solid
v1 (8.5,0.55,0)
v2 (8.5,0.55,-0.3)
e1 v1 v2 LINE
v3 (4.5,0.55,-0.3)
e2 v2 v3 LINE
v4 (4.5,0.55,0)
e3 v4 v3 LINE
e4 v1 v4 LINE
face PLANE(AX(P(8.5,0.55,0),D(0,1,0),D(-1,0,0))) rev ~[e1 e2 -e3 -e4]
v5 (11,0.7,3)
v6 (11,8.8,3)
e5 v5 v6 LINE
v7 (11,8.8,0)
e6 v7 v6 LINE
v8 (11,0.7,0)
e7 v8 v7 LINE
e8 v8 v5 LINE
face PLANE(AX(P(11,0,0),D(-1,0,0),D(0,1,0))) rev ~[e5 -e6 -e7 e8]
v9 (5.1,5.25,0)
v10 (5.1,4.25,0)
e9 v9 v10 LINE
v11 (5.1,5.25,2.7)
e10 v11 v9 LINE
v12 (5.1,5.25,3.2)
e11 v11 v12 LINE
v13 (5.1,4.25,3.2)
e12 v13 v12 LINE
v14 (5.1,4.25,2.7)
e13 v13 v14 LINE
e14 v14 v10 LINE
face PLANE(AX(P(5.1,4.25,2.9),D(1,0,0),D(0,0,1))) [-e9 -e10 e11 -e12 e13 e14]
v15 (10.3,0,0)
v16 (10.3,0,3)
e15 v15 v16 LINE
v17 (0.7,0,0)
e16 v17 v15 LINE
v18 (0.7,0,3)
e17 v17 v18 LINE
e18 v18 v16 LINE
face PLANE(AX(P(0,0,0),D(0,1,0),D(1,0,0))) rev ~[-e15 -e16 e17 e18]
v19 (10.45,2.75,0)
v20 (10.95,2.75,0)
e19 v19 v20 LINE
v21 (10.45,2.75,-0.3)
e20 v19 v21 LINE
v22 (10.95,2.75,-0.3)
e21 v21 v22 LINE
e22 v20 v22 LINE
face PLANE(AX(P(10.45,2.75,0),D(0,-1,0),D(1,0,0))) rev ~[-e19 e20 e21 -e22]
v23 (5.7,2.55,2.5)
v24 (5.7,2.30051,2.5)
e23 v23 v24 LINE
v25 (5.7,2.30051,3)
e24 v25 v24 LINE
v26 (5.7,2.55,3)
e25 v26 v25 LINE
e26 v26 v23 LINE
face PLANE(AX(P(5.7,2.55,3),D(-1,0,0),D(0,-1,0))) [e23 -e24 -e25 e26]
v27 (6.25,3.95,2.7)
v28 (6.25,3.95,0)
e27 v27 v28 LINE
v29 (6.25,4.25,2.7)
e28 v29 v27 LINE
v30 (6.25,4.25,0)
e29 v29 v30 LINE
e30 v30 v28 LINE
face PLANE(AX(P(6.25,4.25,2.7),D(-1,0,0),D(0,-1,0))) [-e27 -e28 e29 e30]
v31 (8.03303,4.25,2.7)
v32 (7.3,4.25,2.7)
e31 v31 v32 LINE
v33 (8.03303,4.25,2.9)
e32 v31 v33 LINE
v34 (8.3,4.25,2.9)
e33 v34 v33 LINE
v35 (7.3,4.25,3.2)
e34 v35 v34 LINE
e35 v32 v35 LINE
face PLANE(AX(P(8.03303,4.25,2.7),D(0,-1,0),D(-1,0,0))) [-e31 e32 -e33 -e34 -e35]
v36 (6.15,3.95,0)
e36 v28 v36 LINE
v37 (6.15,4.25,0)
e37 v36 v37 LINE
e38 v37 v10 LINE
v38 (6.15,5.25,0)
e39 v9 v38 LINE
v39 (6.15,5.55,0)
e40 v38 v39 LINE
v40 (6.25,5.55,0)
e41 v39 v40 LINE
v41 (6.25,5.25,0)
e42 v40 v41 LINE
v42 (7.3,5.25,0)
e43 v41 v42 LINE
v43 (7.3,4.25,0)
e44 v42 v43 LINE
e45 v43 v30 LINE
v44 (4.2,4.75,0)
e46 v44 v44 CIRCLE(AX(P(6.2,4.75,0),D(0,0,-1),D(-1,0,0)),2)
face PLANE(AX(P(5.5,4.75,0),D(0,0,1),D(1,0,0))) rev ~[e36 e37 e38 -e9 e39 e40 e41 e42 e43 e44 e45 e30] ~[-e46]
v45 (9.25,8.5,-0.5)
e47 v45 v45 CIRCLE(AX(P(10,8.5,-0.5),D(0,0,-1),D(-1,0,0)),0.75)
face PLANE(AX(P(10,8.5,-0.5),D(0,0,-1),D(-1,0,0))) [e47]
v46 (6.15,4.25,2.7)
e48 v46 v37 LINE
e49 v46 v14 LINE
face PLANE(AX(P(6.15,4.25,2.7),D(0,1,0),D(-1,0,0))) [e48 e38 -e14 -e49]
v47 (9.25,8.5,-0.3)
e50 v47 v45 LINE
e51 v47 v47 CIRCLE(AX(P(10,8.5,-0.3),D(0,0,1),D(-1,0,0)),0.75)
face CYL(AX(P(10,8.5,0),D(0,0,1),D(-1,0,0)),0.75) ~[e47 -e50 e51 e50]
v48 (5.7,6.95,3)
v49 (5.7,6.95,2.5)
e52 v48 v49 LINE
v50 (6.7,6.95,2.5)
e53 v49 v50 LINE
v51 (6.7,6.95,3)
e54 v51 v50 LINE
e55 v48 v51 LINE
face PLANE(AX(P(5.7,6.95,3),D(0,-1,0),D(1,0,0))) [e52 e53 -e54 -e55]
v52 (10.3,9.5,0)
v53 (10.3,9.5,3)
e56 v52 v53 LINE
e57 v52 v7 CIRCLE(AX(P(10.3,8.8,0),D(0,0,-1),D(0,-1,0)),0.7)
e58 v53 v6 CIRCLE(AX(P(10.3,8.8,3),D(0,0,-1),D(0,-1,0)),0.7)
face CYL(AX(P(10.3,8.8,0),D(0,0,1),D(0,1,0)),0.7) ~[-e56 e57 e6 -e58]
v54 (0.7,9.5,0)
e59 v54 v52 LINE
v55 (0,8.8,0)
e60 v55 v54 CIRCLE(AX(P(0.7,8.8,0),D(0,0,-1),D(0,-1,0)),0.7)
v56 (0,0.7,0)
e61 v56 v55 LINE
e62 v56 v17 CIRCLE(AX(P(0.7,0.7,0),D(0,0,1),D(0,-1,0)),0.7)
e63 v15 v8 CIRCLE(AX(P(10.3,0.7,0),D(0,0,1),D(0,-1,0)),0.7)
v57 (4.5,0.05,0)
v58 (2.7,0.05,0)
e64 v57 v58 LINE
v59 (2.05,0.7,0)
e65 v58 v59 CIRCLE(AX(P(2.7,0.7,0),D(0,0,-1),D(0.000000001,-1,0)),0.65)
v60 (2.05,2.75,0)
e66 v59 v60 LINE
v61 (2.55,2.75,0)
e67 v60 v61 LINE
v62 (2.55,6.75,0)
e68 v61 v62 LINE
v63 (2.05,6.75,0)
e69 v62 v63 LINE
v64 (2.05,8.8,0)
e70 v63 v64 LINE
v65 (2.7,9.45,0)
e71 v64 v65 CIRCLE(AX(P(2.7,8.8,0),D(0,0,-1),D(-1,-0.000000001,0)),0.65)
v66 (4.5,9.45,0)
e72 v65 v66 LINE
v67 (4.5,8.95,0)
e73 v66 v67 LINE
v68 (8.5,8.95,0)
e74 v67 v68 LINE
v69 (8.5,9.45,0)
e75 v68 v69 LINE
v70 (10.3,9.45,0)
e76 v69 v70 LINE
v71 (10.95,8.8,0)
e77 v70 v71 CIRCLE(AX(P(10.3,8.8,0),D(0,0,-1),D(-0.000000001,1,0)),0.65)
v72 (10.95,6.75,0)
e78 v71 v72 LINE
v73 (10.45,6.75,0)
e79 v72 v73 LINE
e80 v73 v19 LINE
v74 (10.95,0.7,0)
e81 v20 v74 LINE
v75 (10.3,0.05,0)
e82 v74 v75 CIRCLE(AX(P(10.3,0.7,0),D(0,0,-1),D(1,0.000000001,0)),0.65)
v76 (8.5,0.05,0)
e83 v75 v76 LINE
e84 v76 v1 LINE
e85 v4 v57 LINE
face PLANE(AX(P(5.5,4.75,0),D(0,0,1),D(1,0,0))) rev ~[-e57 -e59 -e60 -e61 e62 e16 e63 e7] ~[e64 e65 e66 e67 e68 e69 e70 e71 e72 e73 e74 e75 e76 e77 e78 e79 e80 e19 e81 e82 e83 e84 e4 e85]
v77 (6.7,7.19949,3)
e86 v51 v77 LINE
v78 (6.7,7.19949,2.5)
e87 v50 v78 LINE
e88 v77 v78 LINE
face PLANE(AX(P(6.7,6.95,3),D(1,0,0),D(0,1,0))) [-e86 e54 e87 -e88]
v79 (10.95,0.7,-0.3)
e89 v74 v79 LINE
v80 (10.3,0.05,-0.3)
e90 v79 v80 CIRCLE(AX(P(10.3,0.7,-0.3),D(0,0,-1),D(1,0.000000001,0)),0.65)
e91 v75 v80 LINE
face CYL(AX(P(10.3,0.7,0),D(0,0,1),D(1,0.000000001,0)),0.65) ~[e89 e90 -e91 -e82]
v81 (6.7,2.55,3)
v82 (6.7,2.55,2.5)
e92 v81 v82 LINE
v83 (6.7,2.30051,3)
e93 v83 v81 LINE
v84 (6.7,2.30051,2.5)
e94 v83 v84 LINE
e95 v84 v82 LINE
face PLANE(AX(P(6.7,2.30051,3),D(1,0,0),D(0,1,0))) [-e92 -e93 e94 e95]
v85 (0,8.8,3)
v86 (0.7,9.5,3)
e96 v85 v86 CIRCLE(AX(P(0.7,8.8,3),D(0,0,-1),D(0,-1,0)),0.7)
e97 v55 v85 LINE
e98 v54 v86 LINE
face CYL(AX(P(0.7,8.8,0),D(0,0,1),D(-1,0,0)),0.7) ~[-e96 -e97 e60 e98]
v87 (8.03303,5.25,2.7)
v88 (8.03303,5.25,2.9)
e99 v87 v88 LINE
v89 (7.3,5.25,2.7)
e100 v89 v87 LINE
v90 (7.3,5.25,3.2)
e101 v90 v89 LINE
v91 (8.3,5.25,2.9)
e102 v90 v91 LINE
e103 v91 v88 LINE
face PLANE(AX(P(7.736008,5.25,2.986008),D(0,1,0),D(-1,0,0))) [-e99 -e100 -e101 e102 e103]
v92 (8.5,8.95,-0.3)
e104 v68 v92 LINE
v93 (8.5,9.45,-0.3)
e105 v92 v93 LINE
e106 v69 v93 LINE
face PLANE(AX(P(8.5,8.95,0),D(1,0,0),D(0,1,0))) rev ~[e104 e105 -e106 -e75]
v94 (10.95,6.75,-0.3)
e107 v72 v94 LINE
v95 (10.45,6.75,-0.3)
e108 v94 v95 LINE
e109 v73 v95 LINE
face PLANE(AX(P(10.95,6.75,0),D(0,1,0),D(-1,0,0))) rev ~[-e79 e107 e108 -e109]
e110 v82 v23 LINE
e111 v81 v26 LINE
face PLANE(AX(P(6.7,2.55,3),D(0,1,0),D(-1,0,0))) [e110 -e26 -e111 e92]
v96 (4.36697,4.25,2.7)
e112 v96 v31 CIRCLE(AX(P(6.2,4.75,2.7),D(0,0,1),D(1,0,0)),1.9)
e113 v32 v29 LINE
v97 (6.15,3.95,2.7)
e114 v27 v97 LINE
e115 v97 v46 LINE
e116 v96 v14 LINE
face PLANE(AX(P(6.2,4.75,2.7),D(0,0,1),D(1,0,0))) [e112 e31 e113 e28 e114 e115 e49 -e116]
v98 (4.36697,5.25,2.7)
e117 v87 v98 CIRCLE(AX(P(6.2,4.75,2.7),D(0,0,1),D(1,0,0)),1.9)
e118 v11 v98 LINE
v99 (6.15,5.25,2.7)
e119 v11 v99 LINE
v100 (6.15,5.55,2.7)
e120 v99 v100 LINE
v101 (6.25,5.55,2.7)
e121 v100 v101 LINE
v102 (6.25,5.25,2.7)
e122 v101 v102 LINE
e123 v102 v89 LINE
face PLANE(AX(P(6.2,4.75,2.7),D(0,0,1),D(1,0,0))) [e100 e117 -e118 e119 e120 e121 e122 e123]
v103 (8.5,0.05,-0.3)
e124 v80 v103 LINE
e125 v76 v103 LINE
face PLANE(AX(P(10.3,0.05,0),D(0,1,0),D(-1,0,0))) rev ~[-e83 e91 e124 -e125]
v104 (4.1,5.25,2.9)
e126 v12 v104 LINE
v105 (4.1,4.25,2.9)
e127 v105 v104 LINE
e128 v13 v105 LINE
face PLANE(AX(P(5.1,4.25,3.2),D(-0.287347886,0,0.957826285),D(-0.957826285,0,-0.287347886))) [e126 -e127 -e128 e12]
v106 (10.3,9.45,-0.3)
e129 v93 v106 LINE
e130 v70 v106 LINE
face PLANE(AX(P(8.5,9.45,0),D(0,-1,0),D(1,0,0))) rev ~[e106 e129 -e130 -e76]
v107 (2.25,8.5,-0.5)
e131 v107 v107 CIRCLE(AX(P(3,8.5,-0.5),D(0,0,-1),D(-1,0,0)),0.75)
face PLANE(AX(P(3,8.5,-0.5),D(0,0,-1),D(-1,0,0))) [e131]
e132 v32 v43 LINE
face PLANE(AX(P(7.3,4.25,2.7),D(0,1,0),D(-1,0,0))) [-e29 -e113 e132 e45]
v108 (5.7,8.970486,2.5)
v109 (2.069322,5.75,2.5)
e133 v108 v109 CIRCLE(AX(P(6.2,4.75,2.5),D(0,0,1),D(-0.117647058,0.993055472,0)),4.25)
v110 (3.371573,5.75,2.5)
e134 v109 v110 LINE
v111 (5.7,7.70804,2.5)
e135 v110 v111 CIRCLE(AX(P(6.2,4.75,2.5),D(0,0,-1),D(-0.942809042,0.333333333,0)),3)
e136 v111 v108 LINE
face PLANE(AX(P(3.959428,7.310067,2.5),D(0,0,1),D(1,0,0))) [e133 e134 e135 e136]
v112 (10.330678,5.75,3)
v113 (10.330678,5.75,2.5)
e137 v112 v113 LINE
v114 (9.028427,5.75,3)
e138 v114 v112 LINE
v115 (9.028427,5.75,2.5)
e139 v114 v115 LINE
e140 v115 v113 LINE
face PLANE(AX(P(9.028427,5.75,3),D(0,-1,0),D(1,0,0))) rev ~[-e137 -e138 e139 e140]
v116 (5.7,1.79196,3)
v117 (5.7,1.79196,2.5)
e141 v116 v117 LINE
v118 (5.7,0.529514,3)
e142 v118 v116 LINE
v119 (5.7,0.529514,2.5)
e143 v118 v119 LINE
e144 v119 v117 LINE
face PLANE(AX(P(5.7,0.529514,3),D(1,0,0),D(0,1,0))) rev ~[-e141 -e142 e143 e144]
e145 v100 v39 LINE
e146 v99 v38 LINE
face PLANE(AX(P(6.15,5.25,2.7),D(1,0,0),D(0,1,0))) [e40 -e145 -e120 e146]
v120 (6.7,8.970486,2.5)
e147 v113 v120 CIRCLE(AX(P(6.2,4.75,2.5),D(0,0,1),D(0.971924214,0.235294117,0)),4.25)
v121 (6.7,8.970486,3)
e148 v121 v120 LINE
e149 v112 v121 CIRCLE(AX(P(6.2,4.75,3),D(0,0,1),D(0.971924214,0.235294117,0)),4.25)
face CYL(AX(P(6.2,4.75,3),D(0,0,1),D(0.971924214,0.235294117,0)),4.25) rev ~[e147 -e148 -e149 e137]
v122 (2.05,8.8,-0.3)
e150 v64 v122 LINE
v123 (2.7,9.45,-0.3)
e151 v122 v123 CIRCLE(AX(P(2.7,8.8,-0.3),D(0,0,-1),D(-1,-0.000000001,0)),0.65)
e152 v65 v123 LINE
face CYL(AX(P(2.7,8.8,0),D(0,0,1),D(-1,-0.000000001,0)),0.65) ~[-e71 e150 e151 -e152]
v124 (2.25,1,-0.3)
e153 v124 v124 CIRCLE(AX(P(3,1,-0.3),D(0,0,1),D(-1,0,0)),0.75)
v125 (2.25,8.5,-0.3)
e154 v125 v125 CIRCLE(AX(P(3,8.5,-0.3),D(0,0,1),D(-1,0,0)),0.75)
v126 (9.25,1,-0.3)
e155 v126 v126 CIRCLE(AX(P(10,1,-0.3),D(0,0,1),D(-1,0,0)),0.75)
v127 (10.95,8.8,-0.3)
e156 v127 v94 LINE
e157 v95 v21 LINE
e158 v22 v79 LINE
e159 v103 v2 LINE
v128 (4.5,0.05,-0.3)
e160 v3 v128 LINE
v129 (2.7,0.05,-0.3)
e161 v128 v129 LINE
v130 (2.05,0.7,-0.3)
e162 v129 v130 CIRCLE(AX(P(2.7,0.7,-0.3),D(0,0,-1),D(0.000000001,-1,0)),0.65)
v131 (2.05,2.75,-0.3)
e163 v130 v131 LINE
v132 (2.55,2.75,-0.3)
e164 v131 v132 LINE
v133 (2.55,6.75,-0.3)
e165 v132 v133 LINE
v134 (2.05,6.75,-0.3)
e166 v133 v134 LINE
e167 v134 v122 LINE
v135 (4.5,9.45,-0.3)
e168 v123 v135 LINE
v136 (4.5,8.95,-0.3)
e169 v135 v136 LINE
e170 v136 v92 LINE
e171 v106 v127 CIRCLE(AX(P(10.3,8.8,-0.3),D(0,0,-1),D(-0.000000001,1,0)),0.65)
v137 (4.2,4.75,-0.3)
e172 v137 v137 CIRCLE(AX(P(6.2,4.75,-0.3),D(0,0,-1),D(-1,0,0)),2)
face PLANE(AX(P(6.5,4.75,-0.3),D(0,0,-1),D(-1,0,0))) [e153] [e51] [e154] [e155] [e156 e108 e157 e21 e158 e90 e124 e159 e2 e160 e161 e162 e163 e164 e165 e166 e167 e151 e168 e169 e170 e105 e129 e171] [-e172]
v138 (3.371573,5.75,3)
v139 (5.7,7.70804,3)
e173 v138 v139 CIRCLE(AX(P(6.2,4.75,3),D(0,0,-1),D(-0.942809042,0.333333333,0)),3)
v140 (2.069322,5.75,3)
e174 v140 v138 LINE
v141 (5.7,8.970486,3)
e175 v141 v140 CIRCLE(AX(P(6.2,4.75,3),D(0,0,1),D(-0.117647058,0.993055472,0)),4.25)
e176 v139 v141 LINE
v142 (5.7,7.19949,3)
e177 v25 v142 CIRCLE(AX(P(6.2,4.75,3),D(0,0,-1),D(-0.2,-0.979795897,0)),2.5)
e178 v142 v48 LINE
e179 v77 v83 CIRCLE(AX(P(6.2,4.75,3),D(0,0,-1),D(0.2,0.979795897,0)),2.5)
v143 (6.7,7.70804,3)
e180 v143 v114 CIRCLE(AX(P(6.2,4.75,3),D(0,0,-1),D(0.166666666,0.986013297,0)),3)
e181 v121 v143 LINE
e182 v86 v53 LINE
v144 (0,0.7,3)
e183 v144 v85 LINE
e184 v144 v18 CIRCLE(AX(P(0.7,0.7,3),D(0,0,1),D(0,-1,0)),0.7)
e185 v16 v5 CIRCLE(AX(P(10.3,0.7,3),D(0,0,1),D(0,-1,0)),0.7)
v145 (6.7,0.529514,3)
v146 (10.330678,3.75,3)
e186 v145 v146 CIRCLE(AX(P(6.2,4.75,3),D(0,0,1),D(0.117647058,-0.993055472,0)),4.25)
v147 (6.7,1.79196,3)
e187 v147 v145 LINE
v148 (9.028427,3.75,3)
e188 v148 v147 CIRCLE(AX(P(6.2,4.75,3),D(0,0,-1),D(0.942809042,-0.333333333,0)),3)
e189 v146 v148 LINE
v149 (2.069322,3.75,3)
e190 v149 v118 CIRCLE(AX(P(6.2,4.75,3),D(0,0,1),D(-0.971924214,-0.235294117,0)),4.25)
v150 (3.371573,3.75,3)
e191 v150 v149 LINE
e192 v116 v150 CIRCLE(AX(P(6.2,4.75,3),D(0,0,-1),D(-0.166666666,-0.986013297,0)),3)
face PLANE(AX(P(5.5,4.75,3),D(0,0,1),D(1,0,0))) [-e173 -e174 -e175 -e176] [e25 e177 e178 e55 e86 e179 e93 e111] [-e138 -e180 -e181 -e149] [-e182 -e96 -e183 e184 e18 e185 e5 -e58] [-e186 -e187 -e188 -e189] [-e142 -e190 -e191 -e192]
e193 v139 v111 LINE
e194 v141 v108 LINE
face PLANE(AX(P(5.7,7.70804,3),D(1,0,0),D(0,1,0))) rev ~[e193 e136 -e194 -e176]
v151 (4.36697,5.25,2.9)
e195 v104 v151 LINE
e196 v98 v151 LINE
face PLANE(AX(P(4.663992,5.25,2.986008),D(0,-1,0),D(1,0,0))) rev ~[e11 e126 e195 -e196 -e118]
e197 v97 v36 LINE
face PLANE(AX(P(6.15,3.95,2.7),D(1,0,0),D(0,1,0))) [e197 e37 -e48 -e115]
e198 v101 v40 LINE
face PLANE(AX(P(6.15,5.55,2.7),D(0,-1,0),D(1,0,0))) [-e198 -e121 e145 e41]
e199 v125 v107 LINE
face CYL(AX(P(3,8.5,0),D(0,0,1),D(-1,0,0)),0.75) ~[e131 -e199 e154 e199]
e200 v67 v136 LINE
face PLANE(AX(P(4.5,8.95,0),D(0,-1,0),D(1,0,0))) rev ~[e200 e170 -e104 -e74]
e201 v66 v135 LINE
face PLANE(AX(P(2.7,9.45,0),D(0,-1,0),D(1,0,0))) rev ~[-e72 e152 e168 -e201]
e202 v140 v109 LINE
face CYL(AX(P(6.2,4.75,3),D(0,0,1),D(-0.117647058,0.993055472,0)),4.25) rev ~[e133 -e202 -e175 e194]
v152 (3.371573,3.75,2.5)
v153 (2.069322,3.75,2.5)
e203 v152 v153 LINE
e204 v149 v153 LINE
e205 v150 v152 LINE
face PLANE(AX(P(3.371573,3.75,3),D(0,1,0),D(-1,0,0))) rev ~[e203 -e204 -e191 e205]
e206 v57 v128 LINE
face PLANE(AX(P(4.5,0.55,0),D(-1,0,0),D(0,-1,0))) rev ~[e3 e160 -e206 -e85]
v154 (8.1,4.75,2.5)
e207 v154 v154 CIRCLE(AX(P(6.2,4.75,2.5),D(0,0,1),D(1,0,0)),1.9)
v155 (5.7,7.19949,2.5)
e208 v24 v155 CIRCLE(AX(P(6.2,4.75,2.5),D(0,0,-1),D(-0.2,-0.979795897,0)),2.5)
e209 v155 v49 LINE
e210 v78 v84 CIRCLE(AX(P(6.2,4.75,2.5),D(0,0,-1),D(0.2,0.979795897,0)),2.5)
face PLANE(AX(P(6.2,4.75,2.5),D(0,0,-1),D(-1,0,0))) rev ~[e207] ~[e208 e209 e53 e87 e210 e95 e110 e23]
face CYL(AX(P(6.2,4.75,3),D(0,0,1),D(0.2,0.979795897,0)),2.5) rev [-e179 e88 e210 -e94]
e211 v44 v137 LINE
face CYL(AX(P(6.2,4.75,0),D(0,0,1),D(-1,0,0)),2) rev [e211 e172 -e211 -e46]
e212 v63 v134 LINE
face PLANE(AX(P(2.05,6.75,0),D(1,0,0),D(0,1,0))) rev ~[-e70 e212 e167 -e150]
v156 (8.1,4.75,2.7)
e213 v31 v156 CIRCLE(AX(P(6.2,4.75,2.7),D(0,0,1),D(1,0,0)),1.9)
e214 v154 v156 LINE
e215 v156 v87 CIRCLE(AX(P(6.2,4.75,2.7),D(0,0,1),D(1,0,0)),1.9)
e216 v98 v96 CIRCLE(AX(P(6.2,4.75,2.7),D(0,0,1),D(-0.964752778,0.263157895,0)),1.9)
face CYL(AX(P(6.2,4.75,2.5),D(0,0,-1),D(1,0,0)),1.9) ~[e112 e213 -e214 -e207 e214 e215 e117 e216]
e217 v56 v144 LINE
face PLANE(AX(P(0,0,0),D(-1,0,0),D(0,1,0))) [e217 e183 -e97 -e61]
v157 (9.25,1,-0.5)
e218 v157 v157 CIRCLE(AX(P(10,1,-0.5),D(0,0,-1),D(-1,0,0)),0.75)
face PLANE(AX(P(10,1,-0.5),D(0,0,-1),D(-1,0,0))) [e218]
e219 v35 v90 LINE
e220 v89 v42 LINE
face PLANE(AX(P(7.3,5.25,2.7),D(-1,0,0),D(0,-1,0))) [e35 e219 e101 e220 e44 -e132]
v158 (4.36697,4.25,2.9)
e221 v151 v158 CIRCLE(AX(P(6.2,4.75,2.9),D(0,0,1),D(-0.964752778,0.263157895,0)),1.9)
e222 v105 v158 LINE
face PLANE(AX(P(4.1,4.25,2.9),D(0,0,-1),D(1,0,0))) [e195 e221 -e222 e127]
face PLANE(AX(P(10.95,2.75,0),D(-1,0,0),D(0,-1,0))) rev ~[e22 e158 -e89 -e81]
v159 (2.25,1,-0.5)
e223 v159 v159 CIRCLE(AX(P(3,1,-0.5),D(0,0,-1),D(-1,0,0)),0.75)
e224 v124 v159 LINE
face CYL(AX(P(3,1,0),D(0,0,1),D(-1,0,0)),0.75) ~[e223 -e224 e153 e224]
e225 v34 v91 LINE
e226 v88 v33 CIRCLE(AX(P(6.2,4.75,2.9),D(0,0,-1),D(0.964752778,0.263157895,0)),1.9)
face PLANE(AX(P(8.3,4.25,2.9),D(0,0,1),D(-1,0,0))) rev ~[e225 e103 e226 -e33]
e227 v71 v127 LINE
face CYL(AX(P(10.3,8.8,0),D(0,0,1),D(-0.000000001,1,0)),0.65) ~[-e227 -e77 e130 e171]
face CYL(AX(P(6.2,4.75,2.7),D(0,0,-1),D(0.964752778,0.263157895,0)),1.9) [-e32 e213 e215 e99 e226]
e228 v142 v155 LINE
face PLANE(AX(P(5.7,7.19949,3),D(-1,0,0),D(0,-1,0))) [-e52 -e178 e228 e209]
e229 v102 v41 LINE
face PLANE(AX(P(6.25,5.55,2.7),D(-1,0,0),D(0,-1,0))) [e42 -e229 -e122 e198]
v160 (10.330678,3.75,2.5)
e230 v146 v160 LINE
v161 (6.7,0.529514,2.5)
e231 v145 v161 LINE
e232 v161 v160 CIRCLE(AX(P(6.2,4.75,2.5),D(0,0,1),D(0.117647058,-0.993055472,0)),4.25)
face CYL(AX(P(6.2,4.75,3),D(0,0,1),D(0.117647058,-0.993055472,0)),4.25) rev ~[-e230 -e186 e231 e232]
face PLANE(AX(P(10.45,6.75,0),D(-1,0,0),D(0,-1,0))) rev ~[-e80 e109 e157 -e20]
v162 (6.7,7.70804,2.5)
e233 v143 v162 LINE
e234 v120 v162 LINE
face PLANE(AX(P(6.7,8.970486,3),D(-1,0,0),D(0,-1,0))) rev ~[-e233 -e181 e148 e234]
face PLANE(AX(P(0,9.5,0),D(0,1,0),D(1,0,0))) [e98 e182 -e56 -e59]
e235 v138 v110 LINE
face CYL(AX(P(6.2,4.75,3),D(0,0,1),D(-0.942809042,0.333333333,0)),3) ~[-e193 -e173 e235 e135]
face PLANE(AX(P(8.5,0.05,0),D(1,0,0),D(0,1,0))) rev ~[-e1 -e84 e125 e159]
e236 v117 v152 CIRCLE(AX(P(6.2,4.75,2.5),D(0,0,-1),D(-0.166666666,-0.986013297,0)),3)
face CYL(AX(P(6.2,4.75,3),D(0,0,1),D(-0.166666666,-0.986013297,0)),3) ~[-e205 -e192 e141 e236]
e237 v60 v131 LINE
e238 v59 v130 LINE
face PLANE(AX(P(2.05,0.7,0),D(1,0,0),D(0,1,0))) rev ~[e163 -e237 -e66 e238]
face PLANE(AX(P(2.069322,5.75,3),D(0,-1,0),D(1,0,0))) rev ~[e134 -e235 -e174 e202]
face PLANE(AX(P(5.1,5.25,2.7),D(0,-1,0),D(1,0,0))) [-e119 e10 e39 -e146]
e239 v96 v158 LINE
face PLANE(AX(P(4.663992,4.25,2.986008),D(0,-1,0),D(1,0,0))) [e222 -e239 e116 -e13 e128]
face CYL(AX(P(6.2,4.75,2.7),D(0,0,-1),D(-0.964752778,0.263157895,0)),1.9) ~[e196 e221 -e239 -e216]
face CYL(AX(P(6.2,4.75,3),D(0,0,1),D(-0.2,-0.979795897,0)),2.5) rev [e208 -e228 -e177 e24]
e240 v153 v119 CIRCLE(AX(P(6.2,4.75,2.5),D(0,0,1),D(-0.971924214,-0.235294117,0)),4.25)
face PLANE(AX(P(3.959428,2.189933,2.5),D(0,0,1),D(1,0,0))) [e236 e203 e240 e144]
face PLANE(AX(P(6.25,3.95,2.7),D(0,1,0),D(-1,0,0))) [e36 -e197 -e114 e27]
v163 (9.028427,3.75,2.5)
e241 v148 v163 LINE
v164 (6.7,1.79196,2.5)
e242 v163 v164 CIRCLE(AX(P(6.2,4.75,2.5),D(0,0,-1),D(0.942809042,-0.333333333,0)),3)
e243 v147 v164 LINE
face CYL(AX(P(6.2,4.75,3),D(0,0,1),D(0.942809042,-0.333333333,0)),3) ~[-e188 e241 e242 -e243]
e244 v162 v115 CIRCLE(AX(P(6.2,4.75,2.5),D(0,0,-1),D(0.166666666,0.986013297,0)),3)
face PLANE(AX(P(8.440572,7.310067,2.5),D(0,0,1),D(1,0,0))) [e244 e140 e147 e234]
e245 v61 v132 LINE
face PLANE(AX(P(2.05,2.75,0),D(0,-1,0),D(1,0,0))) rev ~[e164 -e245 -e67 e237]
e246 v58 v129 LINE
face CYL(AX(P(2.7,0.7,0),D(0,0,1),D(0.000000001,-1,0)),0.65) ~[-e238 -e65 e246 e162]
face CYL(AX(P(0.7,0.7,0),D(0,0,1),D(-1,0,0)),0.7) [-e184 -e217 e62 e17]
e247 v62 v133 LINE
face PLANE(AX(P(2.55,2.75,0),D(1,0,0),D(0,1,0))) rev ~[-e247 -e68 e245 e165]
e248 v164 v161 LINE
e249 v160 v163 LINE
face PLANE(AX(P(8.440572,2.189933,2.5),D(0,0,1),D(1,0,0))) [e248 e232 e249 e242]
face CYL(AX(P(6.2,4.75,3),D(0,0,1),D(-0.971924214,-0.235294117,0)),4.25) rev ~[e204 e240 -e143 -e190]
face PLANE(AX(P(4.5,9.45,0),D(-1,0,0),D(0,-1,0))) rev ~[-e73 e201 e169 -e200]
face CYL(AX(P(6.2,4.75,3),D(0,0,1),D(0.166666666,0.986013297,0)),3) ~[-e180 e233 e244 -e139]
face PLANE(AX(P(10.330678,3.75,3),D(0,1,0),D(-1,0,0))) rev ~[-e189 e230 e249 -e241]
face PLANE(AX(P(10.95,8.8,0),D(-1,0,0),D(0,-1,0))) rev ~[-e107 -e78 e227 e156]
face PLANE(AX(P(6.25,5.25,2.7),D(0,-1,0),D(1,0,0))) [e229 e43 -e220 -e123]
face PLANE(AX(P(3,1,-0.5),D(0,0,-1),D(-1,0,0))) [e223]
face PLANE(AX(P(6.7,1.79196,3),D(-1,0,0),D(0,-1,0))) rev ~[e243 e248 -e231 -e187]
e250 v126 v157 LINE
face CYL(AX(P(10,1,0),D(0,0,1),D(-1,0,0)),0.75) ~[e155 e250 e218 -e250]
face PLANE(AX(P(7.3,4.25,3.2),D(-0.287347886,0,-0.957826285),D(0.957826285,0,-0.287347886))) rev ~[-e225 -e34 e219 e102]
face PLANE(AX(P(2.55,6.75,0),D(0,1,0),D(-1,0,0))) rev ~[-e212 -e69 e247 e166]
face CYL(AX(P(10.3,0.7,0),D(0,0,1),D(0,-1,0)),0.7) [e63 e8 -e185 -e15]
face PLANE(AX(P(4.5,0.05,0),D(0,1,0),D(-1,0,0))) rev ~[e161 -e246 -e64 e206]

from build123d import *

# Parameters (mm, degrees)
SKETCH_1_W          = 11
SKETCH_1_H          = 9.5
EXTRUDE_1_DEPTH     = 3
CUT_EXTRUDE_1_DEPTH = 0.5
FILLET_1_R          = 0.7
SKETCH_3_R          = 1.9
EXTRUDE_2_DEPTH     = 0.2
CUT_EXTRUDE_2_DEPTH = 15.783098457
EXTRUDE_3_DEPTH     = 0.2
EXTRUDE_4_DEPTH     = 1
SKETCH_7_R          = 0.75
EXTRUDE_5_DEPTH     = 0.5
SKETCH_8_R          = 0.75
SKETCH_8_R_2        = 2
EXTRUDE_6_DEPTH     = 0.3


with BuildPart() as part:
    # 草图1 → 凸台-拉伸1 (new body)
    with BuildSketch(Plane.XY):
        with Locations((5.5, 4.75)):
            Rectangle(SKETCH_1_W, SKETCH_1_H)
    extrude(amount=EXTRUDE_1_DEPTH)

    # 草图2 → 切除-拉伸1 (cut)
    with BuildSketch(Plane.XY.offset(3)):
        with BuildLine():
            Line((9.028427125, 5.75), (10.33067791, 5.75))
            ThreePointArc((10.33067791, 5.75), (9.020226339, 7.929437592), (6.7, 8.970485754))
            Line((6.7, 8.970485754), (6.7, 7.708039892))
            ThreePointArc((6.7, 7.708039892), (8.130825429, 7.046064713), (9.028427125, 5.75))
        make_face()
        with BuildLine():
            Line((3.371572875, 3.75), (2.06932209, 3.75))
            ThreePointArc((2.06932209, 3.75), (3.379773661, 1.570562408), (5.7, 0.529514246))
            Line((5.7, 0.529514246), (5.7, 1.791960108))
            ThreePointArc((5.7, 1.791960108), (4.269174571, 2.453935287), (3.371572875, 3.75))
        make_face()
        with BuildLine():
            Line((2.06932209, 5.75), (3.371572875, 5.75))
            ThreePointArc((3.371572875, 5.75), (4.269174571, 7.046064713), (5.7, 7.708039892))
            Line((5.7, 7.708039892), (5.7, 8.970485754))
            ThreePointArc((5.7, 8.970485754), (3.379773661, 7.929437592), (2.06932209, 5.75))
        make_face()
        with BuildLine():
            Line((10.33067791, 3.75), (9.028427125, 3.75))
            ThreePointArc((9.028427125, 3.75), (8.130825429, 2.453935287), (6.7, 1.791960108))
            Line((6.7, 1.791960108), (6.7, 0.529514246))
            ThreePointArc((6.7, 0.529514246), (9.020226339, 1.570562408), (10.33067791, 3.75))
        make_face()
        with BuildLine():
            Line((5.7, 7.199489743), (5.7, 6.95))
            Line((5.7, 6.95), (6.7, 6.95))
            Line((6.7, 6.95), (6.7, 7.199489743))
            ThreePointArc((6.7, 7.199489743), (8.7, 4.75), (6.7, 2.300510257))
            Line((6.7, 2.300510257), (6.7, 2.55))
            Line((6.7, 2.55), (5.7, 2.55))
            Line((5.7, 2.55), (5.7, 2.300510257))
            ThreePointArc((5.7, 2.300510257), (3.7, 4.75), (5.7, 7.199489743))
        make_face()
    extrude(amount=-CUT_EXTRUDE_1_DEPTH, mode=Mode.SUBTRACT)

    # 圆角1
    fillet_1_edges = [part.edges().sort_by_distance(p)[0] for p in [
        (0, 0, 1.5),
        (0, 9.5, 1.5),
        (11, 9.5, 1.5),
        (11, 0, 1.5),
    ]]
    fillet(fillet_1_edges, radius=FILLET_1_R)

    # 草图3 → 凸台-拉伸2 (add)
    with BuildSketch(Plane.XY.offset(2.5)):
        with Locations((6.2, 4.75)):
            Circle(SKETCH_3_R)
    extrude(amount=EXTRUDE_2_DEPTH)

    # 草图4 → 切除-拉伸2 (cut, through all)
    with BuildSketch(Plane.XY.offset(2.7)):
        Polygon((6.15, 5.55), (6.25, 5.55), (6.25, 5.25), (7.3, 5.25), (7.3, 4.25), (6.25, 4.25), (6.25, 3.95), (6.15, 3.95), (6.15, 4.25), (5.1, 4.25), (5.1, 4.75), (5.1, 5.25), (6.15, 5.25), align=None)
    extrude(amount=-CUT_EXTRUDE_2_DEPTH, mode=Mode.SUBTRACT)

    # 草图5 → 凸台-拉伸3 (add)
    with BuildSketch(Plane.XY.offset(2.7)):
        with BuildLine():
            Line((5.1, 4.25), (5.1, 5.25))
            Line((5.1, 5.25), (4.366969722, 5.25))
            ThreePointArc((4.366969722, 5.25), (4.3, 4.75), (4.366969722, 4.25))
            Line((4.366969722, 4.25), (5.1, 4.25))
        make_face()
        with BuildLine():
            Line((7.3, 5.25), (8.033030278, 5.25))
            ThreePointArc((8.033030278, 5.25), (8.1, 4.75), (8.033030278, 4.25))
            Line((8.033030278, 4.25), (7.3, 4.25))
            Line((7.3, 4.25), (7.3, 5.25))
        make_face()
    extrude(amount=EXTRUDE_3_DEPTH)

    # 草图6 → 凸台-拉伸4 (add)
    with BuildSketch(Plane.XZ.offset(-4.25)):
        Polygon((5.1, 2.9), (5.1, 3.2), (4.1, 2.9), align=None)
        Polygon((7.3, 2.9), (7.3, 3.2), (8.3, 2.9), align=None)
    extrude(amount=-EXTRUDE_4_DEPTH)

    # 草图7 → 凸台-拉伸5 (add)
    with BuildSketch(Plane(origin=(0, 0, 0), x_dir=(-1, 0, 0), z_dir=(0, 0, -1))):
        with Locations((-10, 8.5)):
            Circle(SKETCH_7_R)
        with Locations((-3, 8.5)):
            Circle(SKETCH_7_R)
        with Locations((-3, 1)):
            Circle(SKETCH_7_R)
        with Locations((-10, 1)):
            Circle(SKETCH_7_R)
    extrude(amount=EXTRUDE_5_DEPTH)

    # 草图8 → 凸台-拉伸6 (add)
    with BuildSketch(Plane(origin=(0, 0, 0), x_dir=(-1, 0, 0), z_dir=(0, 0, -1))):
        with BuildLine():
            Line((-2.05, 0.7), (-2.05, 2.75))
            Line((-2.05, 2.75), (-2.55, 2.75))
            Line((-2.55, 2.75), (-2.55, 4.75))
            Line((-2.55, 4.75), (-2.55, 6.75))
            Line((-2.55, 6.75), (-2.05, 6.75))
            Line((-2.05, 6.75), (-2.05, 8.8))
            ThreePointArc((-2.05, 8.8), (-2.240380592, 9.259619408), (-2.7, 9.45))
            Line((-2.7, 9.45), (-4.5, 9.45))
            Line((-4.5, 9.45), (-4.5, 8.95))
            Line((-4.5, 8.95), (-6.5, 8.95))
            Line((-6.5, 8.95), (-8.5, 8.95))
            Line((-8.5, 8.95), (-8.5, 9.45))
            Line((-8.5, 9.45), (-10.3, 9.45))
            ThreePointArc((-10.3, 9.45), (-10.759619408, 9.259619408), (-10.95, 8.8))
            Line((-10.95, 8.8), (-10.95, 6.75))
            Line((-10.95, 6.75), (-10.45, 6.75))
            Line((-10.45, 6.75), (-10.45, 4.75))
            Line((-10.45, 4.75), (-10.45, 2.75))
            Line((-10.45, 2.75), (-10.95, 2.75))
            Line((-10.95, 2.75), (-10.95, 0.7))
            ThreePointArc((-10.95, 0.7), (-10.759619408, 0.240380592), (-10.3, 0.05))
            Line((-10.3, 0.05), (-8.5, 0.05))
            Line((-8.5, 0.05), (-8.5, 0.55))
            Line((-8.5, 0.55), (-7.5, 0.55))
            Line((-7.5, 0.55), (-6.5, 0.55))
            Line((-6.5, 0.55), (-4.5, 0.55))
            Line((-4.5, 0.55), (-4.5, 0.05))
            Line((-4.5, 0.05), (-2.7, 0.05))
            ThreePointArc((-2.7, 0.05), (-2.240380592, 0.240380592), (-2.05, 0.7))
        make_face()
        with Locations(Location((-10, 8.5, 0), (0, 0, 180))):
            Circle(SKETCH_8_R, mode=Mode.SUBTRACT)
        with Locations(Location((-3, 8.5, 0), (0, 0, 180))):
            Circle(SKETCH_8_R, mode=Mode.SUBTRACT)
        with Locations(Location((-10, 1, 0), (0, 0, 180))):
            Circle(SKETCH_8_R, mode=Mode.SUBTRACT)
        with Locations(Location((-3, 1, 0), (0, 0, 180))):
            Circle(SKETCH_8_R, mode=Mode.SUBTRACT)
        with Locations((-6.2, 4.75)):
            Circle(SKETCH_8_R_2, mode=Mode.SUBTRACT)
    extrude(amount=EXTRUDE_6_DEPTH)


solid = part.part
